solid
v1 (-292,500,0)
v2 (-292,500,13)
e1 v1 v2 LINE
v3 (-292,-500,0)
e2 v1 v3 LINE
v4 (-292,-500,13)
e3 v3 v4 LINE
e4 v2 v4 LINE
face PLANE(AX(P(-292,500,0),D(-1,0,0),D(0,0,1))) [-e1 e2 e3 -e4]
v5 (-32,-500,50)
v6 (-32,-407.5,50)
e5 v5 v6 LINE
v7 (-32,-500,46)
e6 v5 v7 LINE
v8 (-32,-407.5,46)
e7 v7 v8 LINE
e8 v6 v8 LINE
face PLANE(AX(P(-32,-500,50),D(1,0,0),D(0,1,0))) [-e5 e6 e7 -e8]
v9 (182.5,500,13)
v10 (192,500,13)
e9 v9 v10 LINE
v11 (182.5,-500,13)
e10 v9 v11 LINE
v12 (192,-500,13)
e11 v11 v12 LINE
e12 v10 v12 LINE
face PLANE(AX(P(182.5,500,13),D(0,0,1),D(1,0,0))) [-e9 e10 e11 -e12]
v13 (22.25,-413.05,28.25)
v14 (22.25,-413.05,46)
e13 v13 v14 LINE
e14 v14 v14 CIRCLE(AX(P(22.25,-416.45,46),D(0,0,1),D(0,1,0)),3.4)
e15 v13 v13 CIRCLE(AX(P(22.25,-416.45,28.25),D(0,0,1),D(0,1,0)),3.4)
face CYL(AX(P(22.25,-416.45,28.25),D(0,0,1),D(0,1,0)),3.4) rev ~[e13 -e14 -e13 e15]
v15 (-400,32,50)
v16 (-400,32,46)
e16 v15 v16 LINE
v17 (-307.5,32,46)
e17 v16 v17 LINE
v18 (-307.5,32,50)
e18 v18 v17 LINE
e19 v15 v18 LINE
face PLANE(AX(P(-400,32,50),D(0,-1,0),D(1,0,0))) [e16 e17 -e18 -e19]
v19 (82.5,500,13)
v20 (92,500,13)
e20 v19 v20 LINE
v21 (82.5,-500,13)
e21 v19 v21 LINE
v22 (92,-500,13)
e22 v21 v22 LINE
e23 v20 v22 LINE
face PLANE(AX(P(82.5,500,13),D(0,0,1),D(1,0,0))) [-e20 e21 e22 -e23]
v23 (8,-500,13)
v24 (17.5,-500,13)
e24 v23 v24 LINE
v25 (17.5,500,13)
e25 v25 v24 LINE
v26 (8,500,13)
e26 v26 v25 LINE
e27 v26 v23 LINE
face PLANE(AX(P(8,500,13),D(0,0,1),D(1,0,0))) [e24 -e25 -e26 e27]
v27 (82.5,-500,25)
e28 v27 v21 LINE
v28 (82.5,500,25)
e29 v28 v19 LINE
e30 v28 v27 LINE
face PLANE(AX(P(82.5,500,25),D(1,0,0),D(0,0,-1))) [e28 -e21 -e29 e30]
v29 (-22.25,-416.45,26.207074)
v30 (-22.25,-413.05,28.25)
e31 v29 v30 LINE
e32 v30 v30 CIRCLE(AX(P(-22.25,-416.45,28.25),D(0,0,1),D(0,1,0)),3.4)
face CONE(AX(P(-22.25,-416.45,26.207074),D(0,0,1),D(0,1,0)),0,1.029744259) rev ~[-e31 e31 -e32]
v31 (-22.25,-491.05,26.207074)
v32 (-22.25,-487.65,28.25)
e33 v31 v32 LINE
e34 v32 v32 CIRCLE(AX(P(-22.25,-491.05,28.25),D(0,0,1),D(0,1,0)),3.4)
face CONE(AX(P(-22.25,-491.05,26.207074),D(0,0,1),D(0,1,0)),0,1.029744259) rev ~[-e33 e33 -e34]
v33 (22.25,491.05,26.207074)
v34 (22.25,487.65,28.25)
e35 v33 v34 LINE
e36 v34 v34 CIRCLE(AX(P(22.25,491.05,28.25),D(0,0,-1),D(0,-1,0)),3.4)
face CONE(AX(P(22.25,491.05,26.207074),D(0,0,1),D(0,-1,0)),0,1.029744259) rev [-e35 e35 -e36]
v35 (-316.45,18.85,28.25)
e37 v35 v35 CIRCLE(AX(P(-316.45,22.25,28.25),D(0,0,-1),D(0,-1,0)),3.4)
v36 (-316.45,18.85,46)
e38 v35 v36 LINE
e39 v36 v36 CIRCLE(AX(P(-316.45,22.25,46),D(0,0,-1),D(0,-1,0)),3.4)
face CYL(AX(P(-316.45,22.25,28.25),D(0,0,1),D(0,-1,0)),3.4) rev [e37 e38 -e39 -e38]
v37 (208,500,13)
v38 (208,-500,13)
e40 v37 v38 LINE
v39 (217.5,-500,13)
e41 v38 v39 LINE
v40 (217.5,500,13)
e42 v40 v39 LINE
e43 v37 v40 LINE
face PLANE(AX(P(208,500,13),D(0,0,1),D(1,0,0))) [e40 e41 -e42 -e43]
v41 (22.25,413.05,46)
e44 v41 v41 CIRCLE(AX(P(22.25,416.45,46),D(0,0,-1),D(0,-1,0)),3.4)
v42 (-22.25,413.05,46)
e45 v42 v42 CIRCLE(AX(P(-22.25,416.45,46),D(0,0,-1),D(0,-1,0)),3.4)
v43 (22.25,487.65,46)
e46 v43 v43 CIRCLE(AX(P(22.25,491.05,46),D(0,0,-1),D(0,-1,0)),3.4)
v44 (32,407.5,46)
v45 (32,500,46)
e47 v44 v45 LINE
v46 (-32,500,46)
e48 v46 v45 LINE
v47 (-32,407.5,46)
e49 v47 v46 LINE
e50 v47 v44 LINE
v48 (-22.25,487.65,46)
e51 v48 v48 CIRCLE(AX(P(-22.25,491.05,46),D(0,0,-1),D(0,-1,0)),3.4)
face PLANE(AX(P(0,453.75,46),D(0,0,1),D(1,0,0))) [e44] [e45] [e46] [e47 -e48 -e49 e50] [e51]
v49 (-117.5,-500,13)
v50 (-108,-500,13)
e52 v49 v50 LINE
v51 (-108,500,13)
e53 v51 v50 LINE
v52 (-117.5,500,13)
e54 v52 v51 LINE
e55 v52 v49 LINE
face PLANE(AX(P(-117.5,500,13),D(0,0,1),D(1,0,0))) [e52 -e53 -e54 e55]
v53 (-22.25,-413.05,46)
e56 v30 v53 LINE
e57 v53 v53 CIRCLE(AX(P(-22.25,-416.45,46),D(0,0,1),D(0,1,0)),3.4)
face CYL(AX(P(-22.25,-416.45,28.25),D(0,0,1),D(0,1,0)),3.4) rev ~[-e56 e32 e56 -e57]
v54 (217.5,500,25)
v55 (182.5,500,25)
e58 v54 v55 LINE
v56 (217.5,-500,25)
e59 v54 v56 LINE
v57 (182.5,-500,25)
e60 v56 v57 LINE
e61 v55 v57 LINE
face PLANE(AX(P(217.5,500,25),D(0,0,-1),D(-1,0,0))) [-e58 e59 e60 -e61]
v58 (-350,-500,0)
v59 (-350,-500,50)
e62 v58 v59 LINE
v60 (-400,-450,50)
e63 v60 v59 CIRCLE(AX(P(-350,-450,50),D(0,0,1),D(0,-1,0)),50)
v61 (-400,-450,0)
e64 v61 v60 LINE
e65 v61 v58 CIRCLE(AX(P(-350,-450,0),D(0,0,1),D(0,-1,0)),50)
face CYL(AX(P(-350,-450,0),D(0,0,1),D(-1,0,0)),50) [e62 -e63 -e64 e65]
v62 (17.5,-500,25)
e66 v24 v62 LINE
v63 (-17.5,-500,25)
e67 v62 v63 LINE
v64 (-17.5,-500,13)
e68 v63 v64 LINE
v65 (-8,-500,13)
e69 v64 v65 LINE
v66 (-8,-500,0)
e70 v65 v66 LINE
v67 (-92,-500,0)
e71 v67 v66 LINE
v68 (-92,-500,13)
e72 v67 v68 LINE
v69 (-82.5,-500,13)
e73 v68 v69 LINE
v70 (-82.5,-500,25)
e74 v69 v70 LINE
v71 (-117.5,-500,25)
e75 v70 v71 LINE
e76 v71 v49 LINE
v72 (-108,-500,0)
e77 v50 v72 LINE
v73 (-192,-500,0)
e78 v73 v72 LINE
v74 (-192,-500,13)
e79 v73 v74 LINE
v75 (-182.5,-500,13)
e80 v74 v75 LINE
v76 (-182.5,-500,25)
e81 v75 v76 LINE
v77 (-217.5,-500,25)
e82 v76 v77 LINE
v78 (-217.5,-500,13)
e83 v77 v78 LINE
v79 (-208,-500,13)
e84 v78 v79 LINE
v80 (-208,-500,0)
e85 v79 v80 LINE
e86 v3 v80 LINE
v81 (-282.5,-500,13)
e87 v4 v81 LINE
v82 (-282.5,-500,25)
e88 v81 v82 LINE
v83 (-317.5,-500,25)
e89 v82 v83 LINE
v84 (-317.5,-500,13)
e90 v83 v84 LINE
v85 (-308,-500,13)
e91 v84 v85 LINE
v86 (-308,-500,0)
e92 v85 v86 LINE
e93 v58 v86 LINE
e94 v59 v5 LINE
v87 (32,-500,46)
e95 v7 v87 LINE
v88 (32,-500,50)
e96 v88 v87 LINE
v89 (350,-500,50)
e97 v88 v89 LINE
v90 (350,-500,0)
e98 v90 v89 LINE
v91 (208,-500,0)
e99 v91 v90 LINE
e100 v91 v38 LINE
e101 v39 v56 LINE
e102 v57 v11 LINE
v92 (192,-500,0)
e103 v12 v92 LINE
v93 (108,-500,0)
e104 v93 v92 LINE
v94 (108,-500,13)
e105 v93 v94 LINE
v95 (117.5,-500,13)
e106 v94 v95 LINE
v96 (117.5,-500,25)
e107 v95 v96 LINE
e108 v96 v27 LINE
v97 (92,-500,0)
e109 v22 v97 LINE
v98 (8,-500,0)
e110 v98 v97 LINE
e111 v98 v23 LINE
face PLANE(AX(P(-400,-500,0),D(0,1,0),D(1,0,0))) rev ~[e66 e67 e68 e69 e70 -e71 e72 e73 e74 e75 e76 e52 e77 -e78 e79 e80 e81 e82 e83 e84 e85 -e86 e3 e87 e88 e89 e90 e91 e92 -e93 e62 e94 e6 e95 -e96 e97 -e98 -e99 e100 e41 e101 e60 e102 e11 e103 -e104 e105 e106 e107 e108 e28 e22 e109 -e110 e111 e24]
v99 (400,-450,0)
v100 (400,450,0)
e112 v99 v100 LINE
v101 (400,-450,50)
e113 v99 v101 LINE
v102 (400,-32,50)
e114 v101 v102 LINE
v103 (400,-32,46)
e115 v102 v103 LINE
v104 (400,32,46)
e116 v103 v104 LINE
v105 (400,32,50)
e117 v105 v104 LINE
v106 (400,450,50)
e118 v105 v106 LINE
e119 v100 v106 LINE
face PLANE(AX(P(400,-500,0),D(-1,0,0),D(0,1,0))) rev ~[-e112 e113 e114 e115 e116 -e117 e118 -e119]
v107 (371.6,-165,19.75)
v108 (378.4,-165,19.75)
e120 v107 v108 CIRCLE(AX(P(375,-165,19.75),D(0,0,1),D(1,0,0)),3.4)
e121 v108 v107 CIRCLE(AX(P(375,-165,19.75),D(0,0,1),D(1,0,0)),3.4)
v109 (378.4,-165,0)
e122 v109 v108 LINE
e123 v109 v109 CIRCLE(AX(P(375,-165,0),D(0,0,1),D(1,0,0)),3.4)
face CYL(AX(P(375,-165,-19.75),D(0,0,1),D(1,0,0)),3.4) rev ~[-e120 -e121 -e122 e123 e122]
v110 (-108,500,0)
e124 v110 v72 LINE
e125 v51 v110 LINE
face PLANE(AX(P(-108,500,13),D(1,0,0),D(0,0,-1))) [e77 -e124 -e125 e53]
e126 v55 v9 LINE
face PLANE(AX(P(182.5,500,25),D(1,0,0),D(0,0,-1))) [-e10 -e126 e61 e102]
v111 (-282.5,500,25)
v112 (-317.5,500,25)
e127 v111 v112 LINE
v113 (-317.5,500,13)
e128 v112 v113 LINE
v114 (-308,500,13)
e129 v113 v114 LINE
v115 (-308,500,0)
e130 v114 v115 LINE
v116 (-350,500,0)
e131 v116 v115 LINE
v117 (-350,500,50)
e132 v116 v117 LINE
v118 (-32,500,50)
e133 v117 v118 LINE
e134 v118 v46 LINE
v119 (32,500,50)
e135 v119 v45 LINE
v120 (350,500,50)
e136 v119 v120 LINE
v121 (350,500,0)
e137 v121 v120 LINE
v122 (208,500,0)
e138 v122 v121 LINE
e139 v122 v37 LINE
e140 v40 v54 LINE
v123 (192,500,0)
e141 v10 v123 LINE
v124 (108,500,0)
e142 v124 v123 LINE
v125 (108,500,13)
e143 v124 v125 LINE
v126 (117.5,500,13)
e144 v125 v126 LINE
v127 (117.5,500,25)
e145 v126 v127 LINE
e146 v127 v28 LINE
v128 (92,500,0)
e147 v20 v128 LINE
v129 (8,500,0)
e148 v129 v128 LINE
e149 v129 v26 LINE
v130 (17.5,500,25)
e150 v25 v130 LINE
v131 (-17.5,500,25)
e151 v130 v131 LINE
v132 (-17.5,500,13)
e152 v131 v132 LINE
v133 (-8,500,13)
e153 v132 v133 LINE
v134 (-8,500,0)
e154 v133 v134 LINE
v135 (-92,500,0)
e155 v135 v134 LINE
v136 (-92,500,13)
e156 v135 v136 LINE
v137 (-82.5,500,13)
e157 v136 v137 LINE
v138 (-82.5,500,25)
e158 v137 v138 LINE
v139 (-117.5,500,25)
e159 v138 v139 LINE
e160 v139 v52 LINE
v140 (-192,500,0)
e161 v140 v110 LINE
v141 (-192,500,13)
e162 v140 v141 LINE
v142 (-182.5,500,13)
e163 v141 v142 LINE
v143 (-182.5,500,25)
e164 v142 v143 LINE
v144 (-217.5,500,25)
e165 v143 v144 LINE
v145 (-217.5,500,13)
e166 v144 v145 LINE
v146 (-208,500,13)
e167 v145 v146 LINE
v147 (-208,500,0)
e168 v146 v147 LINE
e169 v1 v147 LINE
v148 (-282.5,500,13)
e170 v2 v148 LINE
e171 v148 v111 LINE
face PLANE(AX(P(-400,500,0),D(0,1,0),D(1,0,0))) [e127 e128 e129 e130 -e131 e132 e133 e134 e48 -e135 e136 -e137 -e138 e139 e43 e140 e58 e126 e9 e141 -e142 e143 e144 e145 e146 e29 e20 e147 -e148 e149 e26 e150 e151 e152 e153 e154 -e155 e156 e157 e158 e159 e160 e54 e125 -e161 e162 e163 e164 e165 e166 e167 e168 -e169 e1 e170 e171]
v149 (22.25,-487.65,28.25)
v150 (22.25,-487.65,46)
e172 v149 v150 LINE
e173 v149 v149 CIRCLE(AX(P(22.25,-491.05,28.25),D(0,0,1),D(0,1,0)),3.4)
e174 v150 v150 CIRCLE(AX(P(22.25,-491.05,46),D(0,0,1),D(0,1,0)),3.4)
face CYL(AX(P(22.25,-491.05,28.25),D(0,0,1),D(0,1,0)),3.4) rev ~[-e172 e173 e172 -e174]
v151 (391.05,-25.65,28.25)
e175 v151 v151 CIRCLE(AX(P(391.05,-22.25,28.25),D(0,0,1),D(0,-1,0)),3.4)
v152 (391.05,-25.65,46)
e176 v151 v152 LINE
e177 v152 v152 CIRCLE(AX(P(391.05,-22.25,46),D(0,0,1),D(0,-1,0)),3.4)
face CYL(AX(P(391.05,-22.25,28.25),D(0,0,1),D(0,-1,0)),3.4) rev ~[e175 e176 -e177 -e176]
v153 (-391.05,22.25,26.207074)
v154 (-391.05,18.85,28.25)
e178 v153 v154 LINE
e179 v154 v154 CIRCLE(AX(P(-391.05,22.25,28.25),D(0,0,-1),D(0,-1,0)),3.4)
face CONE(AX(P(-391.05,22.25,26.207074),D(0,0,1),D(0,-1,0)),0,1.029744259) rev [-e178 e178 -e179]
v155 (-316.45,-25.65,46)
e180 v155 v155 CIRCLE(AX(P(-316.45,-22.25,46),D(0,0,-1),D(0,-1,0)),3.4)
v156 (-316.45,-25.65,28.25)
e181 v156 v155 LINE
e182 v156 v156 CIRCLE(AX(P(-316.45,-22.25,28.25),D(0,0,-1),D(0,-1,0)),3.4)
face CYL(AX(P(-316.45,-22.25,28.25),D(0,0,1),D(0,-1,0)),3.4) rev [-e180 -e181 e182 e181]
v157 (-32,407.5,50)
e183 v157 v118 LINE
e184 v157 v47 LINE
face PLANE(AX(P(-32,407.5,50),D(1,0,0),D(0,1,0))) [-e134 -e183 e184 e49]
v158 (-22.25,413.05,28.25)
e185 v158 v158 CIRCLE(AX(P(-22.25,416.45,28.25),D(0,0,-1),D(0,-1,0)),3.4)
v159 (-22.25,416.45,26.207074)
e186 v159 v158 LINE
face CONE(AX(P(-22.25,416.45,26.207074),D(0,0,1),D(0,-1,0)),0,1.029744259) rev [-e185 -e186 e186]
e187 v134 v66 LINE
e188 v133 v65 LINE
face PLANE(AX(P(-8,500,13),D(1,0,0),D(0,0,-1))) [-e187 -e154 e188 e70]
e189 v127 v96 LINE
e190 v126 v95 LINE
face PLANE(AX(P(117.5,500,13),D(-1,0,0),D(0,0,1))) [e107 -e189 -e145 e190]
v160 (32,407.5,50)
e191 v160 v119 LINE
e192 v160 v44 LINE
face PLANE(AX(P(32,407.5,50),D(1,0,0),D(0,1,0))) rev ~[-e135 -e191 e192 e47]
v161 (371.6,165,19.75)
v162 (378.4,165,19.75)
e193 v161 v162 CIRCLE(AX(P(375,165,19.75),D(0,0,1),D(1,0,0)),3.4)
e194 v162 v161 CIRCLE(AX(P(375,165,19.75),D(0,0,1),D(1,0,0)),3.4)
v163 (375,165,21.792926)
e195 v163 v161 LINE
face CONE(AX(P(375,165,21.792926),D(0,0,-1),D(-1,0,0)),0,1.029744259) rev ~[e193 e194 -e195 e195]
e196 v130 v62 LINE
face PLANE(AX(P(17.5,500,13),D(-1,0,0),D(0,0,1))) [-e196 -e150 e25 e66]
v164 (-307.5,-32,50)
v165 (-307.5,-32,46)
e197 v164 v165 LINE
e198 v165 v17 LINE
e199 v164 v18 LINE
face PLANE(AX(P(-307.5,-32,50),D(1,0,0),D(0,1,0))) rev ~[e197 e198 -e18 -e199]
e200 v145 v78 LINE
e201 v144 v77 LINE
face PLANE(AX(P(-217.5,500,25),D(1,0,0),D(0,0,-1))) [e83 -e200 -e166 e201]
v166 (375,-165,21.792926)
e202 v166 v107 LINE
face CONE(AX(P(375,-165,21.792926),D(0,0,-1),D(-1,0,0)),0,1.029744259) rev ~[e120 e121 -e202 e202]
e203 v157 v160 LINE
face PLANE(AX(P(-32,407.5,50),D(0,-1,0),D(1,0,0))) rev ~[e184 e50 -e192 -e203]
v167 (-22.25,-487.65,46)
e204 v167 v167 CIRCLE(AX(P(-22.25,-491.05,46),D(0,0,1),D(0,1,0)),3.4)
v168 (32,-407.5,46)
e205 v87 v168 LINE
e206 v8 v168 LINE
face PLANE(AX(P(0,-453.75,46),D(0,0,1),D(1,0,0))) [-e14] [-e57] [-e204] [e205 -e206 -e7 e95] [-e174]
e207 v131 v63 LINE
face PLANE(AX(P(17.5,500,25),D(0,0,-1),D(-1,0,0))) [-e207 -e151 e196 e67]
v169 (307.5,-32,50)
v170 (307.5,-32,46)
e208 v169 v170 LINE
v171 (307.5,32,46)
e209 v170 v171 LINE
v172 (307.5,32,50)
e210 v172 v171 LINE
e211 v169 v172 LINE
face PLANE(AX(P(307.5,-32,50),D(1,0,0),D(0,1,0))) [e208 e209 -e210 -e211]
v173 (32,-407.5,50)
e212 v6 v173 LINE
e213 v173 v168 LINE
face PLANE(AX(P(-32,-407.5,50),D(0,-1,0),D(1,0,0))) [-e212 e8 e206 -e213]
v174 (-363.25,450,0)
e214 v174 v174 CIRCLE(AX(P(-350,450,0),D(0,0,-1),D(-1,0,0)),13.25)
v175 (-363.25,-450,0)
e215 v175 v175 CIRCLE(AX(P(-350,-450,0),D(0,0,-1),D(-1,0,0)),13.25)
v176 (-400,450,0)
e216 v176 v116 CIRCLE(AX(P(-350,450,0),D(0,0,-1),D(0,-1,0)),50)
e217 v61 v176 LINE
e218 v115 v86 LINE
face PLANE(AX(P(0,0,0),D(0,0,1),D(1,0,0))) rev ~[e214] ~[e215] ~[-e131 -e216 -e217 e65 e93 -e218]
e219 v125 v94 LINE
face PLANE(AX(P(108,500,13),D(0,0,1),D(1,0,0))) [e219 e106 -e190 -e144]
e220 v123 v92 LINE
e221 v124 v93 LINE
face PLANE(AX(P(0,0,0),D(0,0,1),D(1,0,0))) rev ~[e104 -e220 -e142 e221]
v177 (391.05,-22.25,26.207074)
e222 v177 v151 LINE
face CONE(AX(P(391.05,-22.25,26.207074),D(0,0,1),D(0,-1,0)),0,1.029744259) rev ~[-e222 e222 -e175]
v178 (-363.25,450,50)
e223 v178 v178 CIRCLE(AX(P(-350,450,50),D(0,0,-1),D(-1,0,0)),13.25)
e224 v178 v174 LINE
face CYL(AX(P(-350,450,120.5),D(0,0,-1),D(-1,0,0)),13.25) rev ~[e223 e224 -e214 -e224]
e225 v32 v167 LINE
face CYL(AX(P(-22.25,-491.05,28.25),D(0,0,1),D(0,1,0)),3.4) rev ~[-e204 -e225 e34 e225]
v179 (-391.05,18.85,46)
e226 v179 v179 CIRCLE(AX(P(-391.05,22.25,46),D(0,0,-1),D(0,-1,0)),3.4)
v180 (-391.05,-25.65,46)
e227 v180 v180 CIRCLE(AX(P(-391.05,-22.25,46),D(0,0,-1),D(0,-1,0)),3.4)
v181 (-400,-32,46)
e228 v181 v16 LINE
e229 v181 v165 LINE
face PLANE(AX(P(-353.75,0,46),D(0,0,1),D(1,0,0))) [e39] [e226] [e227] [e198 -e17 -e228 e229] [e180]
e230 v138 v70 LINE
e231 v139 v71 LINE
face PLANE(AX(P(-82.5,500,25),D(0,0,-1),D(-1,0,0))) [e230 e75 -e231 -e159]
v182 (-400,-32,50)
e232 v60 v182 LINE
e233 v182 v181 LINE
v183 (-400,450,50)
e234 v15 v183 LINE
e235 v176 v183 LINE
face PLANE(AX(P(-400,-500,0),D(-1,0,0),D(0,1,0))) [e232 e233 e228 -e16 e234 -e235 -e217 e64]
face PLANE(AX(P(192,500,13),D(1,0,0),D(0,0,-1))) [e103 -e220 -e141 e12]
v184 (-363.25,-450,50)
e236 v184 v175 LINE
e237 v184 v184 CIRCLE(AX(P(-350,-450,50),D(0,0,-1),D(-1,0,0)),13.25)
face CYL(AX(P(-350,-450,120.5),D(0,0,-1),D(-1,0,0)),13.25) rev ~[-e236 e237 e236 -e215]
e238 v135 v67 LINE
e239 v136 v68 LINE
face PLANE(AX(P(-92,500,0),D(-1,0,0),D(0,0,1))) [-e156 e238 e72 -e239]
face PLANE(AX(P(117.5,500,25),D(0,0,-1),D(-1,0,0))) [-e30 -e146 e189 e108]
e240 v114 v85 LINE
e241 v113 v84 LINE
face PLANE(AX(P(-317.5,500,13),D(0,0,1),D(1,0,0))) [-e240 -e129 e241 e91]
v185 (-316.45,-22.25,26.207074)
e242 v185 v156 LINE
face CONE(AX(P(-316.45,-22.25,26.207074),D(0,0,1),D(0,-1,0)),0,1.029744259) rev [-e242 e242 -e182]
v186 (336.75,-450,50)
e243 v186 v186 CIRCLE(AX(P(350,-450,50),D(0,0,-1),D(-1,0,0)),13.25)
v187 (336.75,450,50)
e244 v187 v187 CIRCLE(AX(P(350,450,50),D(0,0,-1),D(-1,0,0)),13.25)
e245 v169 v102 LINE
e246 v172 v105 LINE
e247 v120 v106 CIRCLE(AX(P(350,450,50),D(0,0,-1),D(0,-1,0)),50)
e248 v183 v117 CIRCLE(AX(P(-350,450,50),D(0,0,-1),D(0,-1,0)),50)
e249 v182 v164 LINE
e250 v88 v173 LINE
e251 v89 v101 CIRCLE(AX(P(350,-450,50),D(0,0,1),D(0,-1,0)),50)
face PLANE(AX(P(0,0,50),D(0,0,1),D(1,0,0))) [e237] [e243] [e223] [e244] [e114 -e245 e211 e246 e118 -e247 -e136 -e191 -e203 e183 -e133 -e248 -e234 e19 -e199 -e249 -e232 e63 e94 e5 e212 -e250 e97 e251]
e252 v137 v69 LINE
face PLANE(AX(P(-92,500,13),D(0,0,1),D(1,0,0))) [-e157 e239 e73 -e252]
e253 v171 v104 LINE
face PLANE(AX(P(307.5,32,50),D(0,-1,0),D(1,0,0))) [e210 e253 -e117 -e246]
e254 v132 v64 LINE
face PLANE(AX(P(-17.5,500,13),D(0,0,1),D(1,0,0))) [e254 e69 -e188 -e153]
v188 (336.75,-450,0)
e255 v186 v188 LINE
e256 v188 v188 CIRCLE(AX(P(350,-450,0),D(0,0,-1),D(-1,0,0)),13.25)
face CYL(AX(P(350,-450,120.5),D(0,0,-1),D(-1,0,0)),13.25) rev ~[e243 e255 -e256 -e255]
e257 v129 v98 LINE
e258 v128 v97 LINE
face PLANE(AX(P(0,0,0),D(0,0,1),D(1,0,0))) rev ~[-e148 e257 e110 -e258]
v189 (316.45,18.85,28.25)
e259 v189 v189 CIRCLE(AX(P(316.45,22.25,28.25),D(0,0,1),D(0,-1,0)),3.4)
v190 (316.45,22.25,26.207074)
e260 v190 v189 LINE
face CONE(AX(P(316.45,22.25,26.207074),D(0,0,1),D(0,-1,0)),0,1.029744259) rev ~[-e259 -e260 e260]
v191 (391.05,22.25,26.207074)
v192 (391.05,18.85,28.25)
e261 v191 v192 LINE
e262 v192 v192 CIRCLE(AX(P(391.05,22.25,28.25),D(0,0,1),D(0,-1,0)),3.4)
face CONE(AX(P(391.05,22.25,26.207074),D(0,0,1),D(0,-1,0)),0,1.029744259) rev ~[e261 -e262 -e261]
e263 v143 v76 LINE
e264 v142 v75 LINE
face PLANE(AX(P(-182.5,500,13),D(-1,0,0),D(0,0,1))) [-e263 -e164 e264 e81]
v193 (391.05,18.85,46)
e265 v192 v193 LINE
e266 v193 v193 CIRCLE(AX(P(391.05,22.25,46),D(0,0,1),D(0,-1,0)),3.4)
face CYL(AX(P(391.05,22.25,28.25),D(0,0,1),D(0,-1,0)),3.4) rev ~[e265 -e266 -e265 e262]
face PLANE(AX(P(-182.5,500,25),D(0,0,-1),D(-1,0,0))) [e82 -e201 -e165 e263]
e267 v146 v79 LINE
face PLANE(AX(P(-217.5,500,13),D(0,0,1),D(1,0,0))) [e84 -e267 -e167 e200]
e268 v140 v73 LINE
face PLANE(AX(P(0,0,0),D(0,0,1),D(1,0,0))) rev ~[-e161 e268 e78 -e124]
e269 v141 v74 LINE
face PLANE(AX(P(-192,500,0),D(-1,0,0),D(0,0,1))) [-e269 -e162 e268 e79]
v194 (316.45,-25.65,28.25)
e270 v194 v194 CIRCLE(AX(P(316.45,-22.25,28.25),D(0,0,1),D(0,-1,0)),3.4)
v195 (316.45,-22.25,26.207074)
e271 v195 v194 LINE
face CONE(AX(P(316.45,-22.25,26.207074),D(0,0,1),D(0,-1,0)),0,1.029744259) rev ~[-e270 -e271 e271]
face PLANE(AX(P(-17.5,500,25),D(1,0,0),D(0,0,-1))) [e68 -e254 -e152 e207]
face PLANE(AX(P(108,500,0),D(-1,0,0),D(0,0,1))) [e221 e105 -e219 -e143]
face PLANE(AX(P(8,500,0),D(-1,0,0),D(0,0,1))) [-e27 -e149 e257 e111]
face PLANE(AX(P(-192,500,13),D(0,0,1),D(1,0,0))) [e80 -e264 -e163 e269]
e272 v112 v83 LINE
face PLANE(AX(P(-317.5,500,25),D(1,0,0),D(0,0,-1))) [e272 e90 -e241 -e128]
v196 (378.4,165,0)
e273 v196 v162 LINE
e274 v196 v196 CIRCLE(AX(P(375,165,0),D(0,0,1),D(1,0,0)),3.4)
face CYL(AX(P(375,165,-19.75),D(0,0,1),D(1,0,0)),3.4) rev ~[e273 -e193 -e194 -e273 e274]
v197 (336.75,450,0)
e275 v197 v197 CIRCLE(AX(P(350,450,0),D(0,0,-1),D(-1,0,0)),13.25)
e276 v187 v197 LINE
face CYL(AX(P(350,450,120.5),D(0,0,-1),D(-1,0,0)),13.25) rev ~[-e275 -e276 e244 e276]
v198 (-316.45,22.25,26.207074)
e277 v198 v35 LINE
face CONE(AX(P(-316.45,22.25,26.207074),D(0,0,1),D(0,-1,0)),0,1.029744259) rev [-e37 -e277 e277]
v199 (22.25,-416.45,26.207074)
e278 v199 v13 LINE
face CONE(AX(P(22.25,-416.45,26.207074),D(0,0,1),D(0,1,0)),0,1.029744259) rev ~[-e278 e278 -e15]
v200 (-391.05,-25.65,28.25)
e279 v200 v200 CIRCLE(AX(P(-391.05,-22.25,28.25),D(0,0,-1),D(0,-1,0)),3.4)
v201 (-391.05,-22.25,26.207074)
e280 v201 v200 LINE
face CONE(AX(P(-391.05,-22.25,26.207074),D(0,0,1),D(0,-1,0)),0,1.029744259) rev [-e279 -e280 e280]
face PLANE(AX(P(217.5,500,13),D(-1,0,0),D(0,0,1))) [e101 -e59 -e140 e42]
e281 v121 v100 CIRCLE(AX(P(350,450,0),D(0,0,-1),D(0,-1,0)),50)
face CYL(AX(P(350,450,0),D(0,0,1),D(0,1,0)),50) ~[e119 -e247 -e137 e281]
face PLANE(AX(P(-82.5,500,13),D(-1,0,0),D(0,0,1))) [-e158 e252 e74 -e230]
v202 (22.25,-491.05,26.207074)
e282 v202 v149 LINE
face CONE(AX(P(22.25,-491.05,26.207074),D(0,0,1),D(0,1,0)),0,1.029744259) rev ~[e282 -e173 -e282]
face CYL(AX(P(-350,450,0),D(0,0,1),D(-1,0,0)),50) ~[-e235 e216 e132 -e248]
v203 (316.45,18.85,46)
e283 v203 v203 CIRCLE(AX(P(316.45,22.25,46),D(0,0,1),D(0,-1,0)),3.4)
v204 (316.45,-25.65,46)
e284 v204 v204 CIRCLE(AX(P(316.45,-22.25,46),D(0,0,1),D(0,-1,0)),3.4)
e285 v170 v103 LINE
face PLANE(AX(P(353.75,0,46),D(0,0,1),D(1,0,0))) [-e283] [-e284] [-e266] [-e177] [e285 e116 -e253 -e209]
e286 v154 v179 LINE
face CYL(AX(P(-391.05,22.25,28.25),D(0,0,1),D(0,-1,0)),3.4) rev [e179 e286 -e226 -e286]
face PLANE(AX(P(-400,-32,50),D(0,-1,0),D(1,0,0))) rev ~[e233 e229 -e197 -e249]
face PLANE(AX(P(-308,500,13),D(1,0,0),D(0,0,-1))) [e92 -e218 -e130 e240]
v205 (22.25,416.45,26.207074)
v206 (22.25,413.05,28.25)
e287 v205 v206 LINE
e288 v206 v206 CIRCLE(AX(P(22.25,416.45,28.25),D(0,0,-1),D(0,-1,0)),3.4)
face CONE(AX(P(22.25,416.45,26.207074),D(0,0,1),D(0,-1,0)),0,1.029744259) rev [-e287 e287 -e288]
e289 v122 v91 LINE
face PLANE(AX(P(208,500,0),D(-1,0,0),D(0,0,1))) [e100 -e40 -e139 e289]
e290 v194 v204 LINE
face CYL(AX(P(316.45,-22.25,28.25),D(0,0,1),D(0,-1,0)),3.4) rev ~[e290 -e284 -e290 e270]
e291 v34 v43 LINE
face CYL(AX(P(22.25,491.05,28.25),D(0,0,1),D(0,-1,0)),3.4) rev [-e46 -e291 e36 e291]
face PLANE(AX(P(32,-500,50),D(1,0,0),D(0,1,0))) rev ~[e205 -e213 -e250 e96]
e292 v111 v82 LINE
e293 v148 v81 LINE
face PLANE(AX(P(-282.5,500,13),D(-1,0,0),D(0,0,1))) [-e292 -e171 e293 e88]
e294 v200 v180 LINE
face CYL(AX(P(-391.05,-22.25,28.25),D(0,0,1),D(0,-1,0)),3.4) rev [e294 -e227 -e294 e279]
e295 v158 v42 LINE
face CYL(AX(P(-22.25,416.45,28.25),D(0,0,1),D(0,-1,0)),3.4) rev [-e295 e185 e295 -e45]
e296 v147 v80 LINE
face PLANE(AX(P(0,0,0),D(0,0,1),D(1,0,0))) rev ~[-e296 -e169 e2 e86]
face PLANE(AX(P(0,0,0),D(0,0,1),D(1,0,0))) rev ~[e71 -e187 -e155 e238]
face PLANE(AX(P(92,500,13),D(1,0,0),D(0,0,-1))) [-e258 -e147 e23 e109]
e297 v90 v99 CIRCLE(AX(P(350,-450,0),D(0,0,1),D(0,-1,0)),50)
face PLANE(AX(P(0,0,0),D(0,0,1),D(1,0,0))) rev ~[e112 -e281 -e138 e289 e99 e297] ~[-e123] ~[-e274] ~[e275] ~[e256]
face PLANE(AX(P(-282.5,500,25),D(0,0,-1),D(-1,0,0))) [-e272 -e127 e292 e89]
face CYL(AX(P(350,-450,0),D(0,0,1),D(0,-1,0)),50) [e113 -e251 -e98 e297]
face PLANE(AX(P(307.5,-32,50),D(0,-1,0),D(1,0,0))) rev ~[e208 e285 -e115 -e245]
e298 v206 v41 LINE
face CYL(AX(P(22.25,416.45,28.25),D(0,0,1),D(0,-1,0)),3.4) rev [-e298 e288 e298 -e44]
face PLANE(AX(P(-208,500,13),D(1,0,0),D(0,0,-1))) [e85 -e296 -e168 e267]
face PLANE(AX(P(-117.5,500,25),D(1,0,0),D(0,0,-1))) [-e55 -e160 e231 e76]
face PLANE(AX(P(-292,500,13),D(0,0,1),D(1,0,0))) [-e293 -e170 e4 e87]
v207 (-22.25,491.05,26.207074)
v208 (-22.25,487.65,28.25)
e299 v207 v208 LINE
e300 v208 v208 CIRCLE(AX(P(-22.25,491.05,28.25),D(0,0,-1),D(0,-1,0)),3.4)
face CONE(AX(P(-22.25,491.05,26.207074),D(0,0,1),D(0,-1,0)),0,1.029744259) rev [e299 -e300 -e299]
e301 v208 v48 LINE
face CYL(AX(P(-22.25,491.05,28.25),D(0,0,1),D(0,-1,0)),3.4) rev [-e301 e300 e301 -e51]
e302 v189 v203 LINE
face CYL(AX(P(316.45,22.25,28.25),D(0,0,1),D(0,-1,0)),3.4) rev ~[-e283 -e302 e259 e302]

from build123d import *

# Parameters (mm, degrees)
SKETCH_1_W                  = 800
SKETCH_1_H                  = 1000
EXTRUDE_1_DEPTH             = 50
CUT_EXTRUDE_1_DEPTH         = 1079.192932642
PATTERN_LINEAR_1_COUNT      = 4
PATTERN_LINEAR_1_PITCH      = 100
PATTERN_LINEAR_1_COL_COUNT  = 3
PATTERN_LINEAR_1_COL_PITCH  = 100
FILLET_1_R                  = 50
SKETCH_5_W                  = 64
SKETCH_5_H                  = 92.5
SKETCH_5_W_2                = 92.5
SKETCH_5_H_2                = 64
CUT_EXTRUDE_2_DEPTH         = 4
HOLE_WIZARD_M30_1_D         = 26.5
HOLE_WIZARD_M30_1_DEPTH     = 70.5
HOLE_WIZARD_M30_1_TIP       = 7.961403202
HOLE_WIZARD_M8_1_D          = 6.8
HOLE_WIZARD_M8_1_DEPTH      = 19.75
HOLE_WIZARD_M8_1_TIP        = 2.042926105
HOLE_WIZARD_M8_2_AT_2_COUNT = 2
HOLE_WIZARD_M8_2_AT_2_PITCH = 44.5
HOLE_WIZARD_M8_2_AT_3_COUNT = 2
HOLE_WIZARD_M8_2_AT_3_PITCH = 86.864319487
HOLE_WIZARD_M8_2_AT_4_COUNT = 2
HOLE_WIZARD_M8_2_AT_4_PITCH = 74.6
HOLE_WIZARD_M8_3_AT_2_COUNT = 2
HOLE_WIZARD_M8_3_AT_2_PITCH = 44.5
HOLE_WIZARD_M8_3_AT_3_COUNT = 2
HOLE_WIZARD_M8_3_AT_3_PITCH = 86.864319487
HOLE_WIZARD_M8_3_AT_4_COUNT = 2
HOLE_WIZARD_M8_3_AT_4_PITCH = 74.6


with BuildPart() as part:
    # 草图1 → 凸台-拉伸1 (new body)
    with BuildSketch(Plane.XY):
        Rectangle(SKETCH_1_W, SKETCH_1_H)
    extrude(amount=EXTRUDE_1_DEPTH)

    # 草图3 → 切除-拉伸1 (cut, through all)
    with BuildSketch(Plane(origin=(0, 500, 0), x_dir=(1, 0, 0), z_dir=(0, 1, 0))):
        Polygon((-8, 0), (8, 0), (8, -13), (17.5, -13), (17.5, -25), (-17.5, -25), (-17.5, -13), (-8, -13), align=None)
    cut_extrude_1 = extrude(amount=-CUT_EXTRUDE_1_DEPTH, mode=Mode.SUBTRACT)

    # 阵列(线性)1: 切除-拉伸1 ×4
    with Locations(*[(-i * PATTERN_LINEAR_1_PITCH, 0, 0) for i in range(1, PATTERN_LINEAR_1_COUNT)]):
        add(cut_extrude_1, mode=Mode.SUBTRACT)

    # 阵列(线性)1 col: 切除-拉伸1 ×3
    with Locations(*[(i * PATTERN_LINEAR_1_COL_PITCH, 0, 0) for i in range(1, PATTERN_LINEAR_1_COL_COUNT)]):
        add(cut_extrude_1, mode=Mode.SUBTRACT)

    # 圆角1
    fillet_1_edges = [part.edges().sort_by_distance(p)[0] for p in [
        (400, -500, 25),
        (-400, -500, 25),
        (-400, 500, 25),
        (400, 500, 25),
    ]]
    fillet(fillet_1_edges, radius=FILLET_1_R)

    # 草图5 → 切除-拉伸2 (cut)
    with BuildSketch(Plane.XY.offset(50)):
        with Locations((0, 453.75)):
            Rectangle(SKETCH_5_W, SKETCH_5_H)
        with Locations((-353.75, 0)):
            Rectangle(SKETCH_5_W_2, SKETCH_5_H_2)
        with Locations((353.75, 0)):
            Rectangle(SKETCH_5_W_2, SKETCH_5_H_2)
        with Locations((0, -453.75)):
            Rectangle(SKETCH_5_W, SKETCH_5_H)
    extrude(amount=-CUT_EXTRUDE_2_DEPTH, mode=Mode.SUBTRACT)

    # M30 螺纹孔1
    with Locations(Plane.XY.offset(50)):
        with Locations((-350, 450), (350, 450), (350, -450), (-350, -450)):
            Hole(HOLE_WIZARD_M30_1_D / 2, depth=HOLE_WIZARD_M30_1_DEPTH)
            with Locations((0, 0, -(HOLE_WIZARD_M30_1_DEPTH + HOLE_WIZARD_M30_1_TIP / 2))):  # 118° drill point
                Cone(0, HOLE_WIZARD_M30_1_D / 2, HOLE_WIZARD_M30_1_TIP, mode=Mode.SUBTRACT)

    # M8 螺纹孔1
    with Locations(Plane(origin=(0, 0, 0), x_dir=(-1, 0, 0), z_dir=(0, 0, -1))):
        with Locations((-375, -165), (-375, 165)):
            Hole(HOLE_WIZARD_M8_1_D / 2, depth=HOLE_WIZARD_M8_1_DEPTH)
            with Locations((0, 0, -(HOLE_WIZARD_M8_1_DEPTH + HOLE_WIZARD_M8_1_TIP / 2))):  # 118° drill point
                Cone(0, HOLE_WIZARD_M8_1_D / 2, HOLE_WIZARD_M8_1_TIP, mode=Mode.SUBTRACT)

    # 草图12 → M8 螺纹孔2 (revolve, cut)
    with BuildSketch(Plane(origin=(-22.25, 416.45, 46), x_dir=(0, -1, 0), z_dir=(1, 0, 0))):
        Polygon((0, 0), (0, 19.792926105), (3.4, 17.75), (3.4, 0), align=None)
    hole_wizard_m8_2 = revolve(axis=Axis((-22.25, 416.45, 52.35), (0, 0, -1)), mode=Mode.SUBTRACT)

    # M8 螺纹孔2 at 2: M8 螺纹孔2 ×2
    with Locations(*[(i * HOLE_WIZARD_M8_2_AT_2_PITCH, 0, 0) for i in range(1, HOLE_WIZARD_M8_2_AT_2_COUNT)]):
        add(hole_wizard_m8_2, mode=Mode.SUBTRACT)

    # M8 螺纹孔2 at 3: M8 螺纹孔2 ×2
    with Locations(*[Vector(0.5122931977436572, 0.8588106191388054, 0) * (i * HOLE_WIZARD_M8_2_AT_3_PITCH) for i in range(1, HOLE_WIZARD_M8_2_AT_3_COUNT)]):
        add(hole_wizard_m8_2, mode=Mode.SUBTRACT)

    # M8 螺纹孔2 at 4: M8 螺纹孔2 ×2
    with Locations(*[(0, i * HOLE_WIZARD_M8_2_AT_4_PITCH, 0) for i in range(1, HOLE_WIZARD_M8_2_AT_4_COUNT)]):
        add(hole_wizard_m8_2, mode=Mode.SUBTRACT)

    # 镜向1: M8 螺纹孔2 across plane
    add(hole_wizard_m8_2.mirror(Plane.ZX), mode=Mode.SUBTRACT)

    # 镜向1 copy 1 sketch → 镜向1 copy 1 (revolve, cut)
    with BuildSketch(Plane(origin=(22.25, -416.45, 46), x_dir=(0, 1, 0), z_dir=(1, 0, 0))):
        Polygon((0, 0), (0, -19.792926105), (3.4, -17.75), (3.4, 0), align=None)
    revolve(axis=Axis((22.25, -416.45, 52.35), (0, 0, 1)), mode=Mode.SUBTRACT)

    # 镜向1 copy 2 sketch → 镜向1 copy 2 (revolve, cut)
    with BuildSketch(Plane(origin=(22.25, -491.05, 46), x_dir=(0, 1, 0), z_dir=(1, 0, 0))):
        Polygon((0, 0), (0, -19.792926105), (3.4, -17.75), (3.4, 0), align=None)
    revolve(axis=Axis((22.25, -491.05, 52.35), (0, 0, 1)), mode=Mode.SUBTRACT)

    # 镜向1 copy 3 sketch → 镜向1 copy 3 (revolve, cut)
    with BuildSketch(Plane(origin=(-22.25, -491.05, 46), x_dir=(0, 1, 0), z_dir=(1, 0, 0))):
        Polygon((0, 0), (0, -19.792926105), (3.4, -17.75), (3.4, 0), align=None)
    revolve(axis=Axis((-22.25, -491.05, 52.35), (0, 0, 1)), mode=Mode.SUBTRACT)

    # 草图14 → M8 螺纹孔3 (revolve, cut)
    with BuildSketch(Plane(origin=(-391.05, -22.25, 46), x_dir=(0, -1, 0), z_dir=(1, 0, 0))):
        Polygon((0, 0), (0, 19.792926105), (3.4, 17.75), (3.4, 0), align=None)
    hole_wizard_m8_3 = revolve(axis=Axis((-391.05, -22.25, 52.35), (0, 0, -1)), mode=Mode.SUBTRACT)

    # M8 螺纹孔3 at 2: M8 螺纹孔3 ×2
    with Locations(*[(0, i * HOLE_WIZARD_M8_3_AT_2_PITCH, 0) for i in range(1, HOLE_WIZARD_M8_3_AT_2_COUNT)]):
        add(hole_wizard_m8_3, mode=Mode.SUBTRACT)

    # M8 螺纹孔3 at 3: M8 螺纹孔3 ×2
    with Locations(*[Vector(0.8588106191388053, 0.5122931977436572, 0) * (i * HOLE_WIZARD_M8_3_AT_3_PITCH) for i in range(1, HOLE_WIZARD_M8_3_AT_3_COUNT)]):
        add(hole_wizard_m8_3, mode=Mode.SUBTRACT)

    # M8 螺纹孔3 at 4: M8 螺纹孔3 ×2
    with Locations(*[(i * HOLE_WIZARD_M8_3_AT_4_PITCH, 0, 0) for i in range(1, HOLE_WIZARD_M8_3_AT_4_COUNT)]):
        add(hole_wizard_m8_3, mode=Mode.SUBTRACT)

    # 镜向2: M8 螺纹孔3 across plane
    add(hole_wizard_m8_3.mirror(Plane(origin=(0, 0, 0), x_dir=(0, 0, 1), z_dir=(1, 0, 0))), mode=Mode.SUBTRACT)

    # 镜向2 copy 1 sketch → 镜向2 copy 1 (revolve, cut)
    with BuildSketch(Plane(origin=(391.05, 22.25, 46), x_dir=(0, -1, 0), z_dir=(-1, 0, 0))):
        Polygon((0, 0), (0, -19.792926105), (3.4, -17.75), (3.4, 0), align=None)
    revolve(axis=Axis((391.05, 22.25, 52.35), (0, 0, 1)), mode=Mode.SUBTRACT)

    # 镜向2 copy 2 sketch → 镜向2 copy 2 (revolve, cut)
    with BuildSketch(Plane(origin=(316.45, 22.25, 46), x_dir=(0, -1, 0), z_dir=(-1, 0, 0))):
        Polygon((0, 0), (0, -19.792926105), (3.4, -17.75), (3.4, 0), align=None)
    revolve(axis=Axis((316.45, 22.25, 52.35), (0, 0, 1)), mode=Mode.SUBTRACT)

    # 镜向2 copy 3 sketch → 镜向2 copy 3 (revolve, cut)
    with BuildSketch(Plane(origin=(316.45, -22.25, 46), x_dir=(0, -1, 0), z_dir=(-1, 0, 0))):
        Polygon((0, 0), (0, -19.792926105), (3.4, -17.75), (3.4, 0), align=None)
    revolve(axis=Axis((316.45, -22.25, 52.35), (0, 0, 1)), mode=Mode.SUBTRACT)


solid = part.part
